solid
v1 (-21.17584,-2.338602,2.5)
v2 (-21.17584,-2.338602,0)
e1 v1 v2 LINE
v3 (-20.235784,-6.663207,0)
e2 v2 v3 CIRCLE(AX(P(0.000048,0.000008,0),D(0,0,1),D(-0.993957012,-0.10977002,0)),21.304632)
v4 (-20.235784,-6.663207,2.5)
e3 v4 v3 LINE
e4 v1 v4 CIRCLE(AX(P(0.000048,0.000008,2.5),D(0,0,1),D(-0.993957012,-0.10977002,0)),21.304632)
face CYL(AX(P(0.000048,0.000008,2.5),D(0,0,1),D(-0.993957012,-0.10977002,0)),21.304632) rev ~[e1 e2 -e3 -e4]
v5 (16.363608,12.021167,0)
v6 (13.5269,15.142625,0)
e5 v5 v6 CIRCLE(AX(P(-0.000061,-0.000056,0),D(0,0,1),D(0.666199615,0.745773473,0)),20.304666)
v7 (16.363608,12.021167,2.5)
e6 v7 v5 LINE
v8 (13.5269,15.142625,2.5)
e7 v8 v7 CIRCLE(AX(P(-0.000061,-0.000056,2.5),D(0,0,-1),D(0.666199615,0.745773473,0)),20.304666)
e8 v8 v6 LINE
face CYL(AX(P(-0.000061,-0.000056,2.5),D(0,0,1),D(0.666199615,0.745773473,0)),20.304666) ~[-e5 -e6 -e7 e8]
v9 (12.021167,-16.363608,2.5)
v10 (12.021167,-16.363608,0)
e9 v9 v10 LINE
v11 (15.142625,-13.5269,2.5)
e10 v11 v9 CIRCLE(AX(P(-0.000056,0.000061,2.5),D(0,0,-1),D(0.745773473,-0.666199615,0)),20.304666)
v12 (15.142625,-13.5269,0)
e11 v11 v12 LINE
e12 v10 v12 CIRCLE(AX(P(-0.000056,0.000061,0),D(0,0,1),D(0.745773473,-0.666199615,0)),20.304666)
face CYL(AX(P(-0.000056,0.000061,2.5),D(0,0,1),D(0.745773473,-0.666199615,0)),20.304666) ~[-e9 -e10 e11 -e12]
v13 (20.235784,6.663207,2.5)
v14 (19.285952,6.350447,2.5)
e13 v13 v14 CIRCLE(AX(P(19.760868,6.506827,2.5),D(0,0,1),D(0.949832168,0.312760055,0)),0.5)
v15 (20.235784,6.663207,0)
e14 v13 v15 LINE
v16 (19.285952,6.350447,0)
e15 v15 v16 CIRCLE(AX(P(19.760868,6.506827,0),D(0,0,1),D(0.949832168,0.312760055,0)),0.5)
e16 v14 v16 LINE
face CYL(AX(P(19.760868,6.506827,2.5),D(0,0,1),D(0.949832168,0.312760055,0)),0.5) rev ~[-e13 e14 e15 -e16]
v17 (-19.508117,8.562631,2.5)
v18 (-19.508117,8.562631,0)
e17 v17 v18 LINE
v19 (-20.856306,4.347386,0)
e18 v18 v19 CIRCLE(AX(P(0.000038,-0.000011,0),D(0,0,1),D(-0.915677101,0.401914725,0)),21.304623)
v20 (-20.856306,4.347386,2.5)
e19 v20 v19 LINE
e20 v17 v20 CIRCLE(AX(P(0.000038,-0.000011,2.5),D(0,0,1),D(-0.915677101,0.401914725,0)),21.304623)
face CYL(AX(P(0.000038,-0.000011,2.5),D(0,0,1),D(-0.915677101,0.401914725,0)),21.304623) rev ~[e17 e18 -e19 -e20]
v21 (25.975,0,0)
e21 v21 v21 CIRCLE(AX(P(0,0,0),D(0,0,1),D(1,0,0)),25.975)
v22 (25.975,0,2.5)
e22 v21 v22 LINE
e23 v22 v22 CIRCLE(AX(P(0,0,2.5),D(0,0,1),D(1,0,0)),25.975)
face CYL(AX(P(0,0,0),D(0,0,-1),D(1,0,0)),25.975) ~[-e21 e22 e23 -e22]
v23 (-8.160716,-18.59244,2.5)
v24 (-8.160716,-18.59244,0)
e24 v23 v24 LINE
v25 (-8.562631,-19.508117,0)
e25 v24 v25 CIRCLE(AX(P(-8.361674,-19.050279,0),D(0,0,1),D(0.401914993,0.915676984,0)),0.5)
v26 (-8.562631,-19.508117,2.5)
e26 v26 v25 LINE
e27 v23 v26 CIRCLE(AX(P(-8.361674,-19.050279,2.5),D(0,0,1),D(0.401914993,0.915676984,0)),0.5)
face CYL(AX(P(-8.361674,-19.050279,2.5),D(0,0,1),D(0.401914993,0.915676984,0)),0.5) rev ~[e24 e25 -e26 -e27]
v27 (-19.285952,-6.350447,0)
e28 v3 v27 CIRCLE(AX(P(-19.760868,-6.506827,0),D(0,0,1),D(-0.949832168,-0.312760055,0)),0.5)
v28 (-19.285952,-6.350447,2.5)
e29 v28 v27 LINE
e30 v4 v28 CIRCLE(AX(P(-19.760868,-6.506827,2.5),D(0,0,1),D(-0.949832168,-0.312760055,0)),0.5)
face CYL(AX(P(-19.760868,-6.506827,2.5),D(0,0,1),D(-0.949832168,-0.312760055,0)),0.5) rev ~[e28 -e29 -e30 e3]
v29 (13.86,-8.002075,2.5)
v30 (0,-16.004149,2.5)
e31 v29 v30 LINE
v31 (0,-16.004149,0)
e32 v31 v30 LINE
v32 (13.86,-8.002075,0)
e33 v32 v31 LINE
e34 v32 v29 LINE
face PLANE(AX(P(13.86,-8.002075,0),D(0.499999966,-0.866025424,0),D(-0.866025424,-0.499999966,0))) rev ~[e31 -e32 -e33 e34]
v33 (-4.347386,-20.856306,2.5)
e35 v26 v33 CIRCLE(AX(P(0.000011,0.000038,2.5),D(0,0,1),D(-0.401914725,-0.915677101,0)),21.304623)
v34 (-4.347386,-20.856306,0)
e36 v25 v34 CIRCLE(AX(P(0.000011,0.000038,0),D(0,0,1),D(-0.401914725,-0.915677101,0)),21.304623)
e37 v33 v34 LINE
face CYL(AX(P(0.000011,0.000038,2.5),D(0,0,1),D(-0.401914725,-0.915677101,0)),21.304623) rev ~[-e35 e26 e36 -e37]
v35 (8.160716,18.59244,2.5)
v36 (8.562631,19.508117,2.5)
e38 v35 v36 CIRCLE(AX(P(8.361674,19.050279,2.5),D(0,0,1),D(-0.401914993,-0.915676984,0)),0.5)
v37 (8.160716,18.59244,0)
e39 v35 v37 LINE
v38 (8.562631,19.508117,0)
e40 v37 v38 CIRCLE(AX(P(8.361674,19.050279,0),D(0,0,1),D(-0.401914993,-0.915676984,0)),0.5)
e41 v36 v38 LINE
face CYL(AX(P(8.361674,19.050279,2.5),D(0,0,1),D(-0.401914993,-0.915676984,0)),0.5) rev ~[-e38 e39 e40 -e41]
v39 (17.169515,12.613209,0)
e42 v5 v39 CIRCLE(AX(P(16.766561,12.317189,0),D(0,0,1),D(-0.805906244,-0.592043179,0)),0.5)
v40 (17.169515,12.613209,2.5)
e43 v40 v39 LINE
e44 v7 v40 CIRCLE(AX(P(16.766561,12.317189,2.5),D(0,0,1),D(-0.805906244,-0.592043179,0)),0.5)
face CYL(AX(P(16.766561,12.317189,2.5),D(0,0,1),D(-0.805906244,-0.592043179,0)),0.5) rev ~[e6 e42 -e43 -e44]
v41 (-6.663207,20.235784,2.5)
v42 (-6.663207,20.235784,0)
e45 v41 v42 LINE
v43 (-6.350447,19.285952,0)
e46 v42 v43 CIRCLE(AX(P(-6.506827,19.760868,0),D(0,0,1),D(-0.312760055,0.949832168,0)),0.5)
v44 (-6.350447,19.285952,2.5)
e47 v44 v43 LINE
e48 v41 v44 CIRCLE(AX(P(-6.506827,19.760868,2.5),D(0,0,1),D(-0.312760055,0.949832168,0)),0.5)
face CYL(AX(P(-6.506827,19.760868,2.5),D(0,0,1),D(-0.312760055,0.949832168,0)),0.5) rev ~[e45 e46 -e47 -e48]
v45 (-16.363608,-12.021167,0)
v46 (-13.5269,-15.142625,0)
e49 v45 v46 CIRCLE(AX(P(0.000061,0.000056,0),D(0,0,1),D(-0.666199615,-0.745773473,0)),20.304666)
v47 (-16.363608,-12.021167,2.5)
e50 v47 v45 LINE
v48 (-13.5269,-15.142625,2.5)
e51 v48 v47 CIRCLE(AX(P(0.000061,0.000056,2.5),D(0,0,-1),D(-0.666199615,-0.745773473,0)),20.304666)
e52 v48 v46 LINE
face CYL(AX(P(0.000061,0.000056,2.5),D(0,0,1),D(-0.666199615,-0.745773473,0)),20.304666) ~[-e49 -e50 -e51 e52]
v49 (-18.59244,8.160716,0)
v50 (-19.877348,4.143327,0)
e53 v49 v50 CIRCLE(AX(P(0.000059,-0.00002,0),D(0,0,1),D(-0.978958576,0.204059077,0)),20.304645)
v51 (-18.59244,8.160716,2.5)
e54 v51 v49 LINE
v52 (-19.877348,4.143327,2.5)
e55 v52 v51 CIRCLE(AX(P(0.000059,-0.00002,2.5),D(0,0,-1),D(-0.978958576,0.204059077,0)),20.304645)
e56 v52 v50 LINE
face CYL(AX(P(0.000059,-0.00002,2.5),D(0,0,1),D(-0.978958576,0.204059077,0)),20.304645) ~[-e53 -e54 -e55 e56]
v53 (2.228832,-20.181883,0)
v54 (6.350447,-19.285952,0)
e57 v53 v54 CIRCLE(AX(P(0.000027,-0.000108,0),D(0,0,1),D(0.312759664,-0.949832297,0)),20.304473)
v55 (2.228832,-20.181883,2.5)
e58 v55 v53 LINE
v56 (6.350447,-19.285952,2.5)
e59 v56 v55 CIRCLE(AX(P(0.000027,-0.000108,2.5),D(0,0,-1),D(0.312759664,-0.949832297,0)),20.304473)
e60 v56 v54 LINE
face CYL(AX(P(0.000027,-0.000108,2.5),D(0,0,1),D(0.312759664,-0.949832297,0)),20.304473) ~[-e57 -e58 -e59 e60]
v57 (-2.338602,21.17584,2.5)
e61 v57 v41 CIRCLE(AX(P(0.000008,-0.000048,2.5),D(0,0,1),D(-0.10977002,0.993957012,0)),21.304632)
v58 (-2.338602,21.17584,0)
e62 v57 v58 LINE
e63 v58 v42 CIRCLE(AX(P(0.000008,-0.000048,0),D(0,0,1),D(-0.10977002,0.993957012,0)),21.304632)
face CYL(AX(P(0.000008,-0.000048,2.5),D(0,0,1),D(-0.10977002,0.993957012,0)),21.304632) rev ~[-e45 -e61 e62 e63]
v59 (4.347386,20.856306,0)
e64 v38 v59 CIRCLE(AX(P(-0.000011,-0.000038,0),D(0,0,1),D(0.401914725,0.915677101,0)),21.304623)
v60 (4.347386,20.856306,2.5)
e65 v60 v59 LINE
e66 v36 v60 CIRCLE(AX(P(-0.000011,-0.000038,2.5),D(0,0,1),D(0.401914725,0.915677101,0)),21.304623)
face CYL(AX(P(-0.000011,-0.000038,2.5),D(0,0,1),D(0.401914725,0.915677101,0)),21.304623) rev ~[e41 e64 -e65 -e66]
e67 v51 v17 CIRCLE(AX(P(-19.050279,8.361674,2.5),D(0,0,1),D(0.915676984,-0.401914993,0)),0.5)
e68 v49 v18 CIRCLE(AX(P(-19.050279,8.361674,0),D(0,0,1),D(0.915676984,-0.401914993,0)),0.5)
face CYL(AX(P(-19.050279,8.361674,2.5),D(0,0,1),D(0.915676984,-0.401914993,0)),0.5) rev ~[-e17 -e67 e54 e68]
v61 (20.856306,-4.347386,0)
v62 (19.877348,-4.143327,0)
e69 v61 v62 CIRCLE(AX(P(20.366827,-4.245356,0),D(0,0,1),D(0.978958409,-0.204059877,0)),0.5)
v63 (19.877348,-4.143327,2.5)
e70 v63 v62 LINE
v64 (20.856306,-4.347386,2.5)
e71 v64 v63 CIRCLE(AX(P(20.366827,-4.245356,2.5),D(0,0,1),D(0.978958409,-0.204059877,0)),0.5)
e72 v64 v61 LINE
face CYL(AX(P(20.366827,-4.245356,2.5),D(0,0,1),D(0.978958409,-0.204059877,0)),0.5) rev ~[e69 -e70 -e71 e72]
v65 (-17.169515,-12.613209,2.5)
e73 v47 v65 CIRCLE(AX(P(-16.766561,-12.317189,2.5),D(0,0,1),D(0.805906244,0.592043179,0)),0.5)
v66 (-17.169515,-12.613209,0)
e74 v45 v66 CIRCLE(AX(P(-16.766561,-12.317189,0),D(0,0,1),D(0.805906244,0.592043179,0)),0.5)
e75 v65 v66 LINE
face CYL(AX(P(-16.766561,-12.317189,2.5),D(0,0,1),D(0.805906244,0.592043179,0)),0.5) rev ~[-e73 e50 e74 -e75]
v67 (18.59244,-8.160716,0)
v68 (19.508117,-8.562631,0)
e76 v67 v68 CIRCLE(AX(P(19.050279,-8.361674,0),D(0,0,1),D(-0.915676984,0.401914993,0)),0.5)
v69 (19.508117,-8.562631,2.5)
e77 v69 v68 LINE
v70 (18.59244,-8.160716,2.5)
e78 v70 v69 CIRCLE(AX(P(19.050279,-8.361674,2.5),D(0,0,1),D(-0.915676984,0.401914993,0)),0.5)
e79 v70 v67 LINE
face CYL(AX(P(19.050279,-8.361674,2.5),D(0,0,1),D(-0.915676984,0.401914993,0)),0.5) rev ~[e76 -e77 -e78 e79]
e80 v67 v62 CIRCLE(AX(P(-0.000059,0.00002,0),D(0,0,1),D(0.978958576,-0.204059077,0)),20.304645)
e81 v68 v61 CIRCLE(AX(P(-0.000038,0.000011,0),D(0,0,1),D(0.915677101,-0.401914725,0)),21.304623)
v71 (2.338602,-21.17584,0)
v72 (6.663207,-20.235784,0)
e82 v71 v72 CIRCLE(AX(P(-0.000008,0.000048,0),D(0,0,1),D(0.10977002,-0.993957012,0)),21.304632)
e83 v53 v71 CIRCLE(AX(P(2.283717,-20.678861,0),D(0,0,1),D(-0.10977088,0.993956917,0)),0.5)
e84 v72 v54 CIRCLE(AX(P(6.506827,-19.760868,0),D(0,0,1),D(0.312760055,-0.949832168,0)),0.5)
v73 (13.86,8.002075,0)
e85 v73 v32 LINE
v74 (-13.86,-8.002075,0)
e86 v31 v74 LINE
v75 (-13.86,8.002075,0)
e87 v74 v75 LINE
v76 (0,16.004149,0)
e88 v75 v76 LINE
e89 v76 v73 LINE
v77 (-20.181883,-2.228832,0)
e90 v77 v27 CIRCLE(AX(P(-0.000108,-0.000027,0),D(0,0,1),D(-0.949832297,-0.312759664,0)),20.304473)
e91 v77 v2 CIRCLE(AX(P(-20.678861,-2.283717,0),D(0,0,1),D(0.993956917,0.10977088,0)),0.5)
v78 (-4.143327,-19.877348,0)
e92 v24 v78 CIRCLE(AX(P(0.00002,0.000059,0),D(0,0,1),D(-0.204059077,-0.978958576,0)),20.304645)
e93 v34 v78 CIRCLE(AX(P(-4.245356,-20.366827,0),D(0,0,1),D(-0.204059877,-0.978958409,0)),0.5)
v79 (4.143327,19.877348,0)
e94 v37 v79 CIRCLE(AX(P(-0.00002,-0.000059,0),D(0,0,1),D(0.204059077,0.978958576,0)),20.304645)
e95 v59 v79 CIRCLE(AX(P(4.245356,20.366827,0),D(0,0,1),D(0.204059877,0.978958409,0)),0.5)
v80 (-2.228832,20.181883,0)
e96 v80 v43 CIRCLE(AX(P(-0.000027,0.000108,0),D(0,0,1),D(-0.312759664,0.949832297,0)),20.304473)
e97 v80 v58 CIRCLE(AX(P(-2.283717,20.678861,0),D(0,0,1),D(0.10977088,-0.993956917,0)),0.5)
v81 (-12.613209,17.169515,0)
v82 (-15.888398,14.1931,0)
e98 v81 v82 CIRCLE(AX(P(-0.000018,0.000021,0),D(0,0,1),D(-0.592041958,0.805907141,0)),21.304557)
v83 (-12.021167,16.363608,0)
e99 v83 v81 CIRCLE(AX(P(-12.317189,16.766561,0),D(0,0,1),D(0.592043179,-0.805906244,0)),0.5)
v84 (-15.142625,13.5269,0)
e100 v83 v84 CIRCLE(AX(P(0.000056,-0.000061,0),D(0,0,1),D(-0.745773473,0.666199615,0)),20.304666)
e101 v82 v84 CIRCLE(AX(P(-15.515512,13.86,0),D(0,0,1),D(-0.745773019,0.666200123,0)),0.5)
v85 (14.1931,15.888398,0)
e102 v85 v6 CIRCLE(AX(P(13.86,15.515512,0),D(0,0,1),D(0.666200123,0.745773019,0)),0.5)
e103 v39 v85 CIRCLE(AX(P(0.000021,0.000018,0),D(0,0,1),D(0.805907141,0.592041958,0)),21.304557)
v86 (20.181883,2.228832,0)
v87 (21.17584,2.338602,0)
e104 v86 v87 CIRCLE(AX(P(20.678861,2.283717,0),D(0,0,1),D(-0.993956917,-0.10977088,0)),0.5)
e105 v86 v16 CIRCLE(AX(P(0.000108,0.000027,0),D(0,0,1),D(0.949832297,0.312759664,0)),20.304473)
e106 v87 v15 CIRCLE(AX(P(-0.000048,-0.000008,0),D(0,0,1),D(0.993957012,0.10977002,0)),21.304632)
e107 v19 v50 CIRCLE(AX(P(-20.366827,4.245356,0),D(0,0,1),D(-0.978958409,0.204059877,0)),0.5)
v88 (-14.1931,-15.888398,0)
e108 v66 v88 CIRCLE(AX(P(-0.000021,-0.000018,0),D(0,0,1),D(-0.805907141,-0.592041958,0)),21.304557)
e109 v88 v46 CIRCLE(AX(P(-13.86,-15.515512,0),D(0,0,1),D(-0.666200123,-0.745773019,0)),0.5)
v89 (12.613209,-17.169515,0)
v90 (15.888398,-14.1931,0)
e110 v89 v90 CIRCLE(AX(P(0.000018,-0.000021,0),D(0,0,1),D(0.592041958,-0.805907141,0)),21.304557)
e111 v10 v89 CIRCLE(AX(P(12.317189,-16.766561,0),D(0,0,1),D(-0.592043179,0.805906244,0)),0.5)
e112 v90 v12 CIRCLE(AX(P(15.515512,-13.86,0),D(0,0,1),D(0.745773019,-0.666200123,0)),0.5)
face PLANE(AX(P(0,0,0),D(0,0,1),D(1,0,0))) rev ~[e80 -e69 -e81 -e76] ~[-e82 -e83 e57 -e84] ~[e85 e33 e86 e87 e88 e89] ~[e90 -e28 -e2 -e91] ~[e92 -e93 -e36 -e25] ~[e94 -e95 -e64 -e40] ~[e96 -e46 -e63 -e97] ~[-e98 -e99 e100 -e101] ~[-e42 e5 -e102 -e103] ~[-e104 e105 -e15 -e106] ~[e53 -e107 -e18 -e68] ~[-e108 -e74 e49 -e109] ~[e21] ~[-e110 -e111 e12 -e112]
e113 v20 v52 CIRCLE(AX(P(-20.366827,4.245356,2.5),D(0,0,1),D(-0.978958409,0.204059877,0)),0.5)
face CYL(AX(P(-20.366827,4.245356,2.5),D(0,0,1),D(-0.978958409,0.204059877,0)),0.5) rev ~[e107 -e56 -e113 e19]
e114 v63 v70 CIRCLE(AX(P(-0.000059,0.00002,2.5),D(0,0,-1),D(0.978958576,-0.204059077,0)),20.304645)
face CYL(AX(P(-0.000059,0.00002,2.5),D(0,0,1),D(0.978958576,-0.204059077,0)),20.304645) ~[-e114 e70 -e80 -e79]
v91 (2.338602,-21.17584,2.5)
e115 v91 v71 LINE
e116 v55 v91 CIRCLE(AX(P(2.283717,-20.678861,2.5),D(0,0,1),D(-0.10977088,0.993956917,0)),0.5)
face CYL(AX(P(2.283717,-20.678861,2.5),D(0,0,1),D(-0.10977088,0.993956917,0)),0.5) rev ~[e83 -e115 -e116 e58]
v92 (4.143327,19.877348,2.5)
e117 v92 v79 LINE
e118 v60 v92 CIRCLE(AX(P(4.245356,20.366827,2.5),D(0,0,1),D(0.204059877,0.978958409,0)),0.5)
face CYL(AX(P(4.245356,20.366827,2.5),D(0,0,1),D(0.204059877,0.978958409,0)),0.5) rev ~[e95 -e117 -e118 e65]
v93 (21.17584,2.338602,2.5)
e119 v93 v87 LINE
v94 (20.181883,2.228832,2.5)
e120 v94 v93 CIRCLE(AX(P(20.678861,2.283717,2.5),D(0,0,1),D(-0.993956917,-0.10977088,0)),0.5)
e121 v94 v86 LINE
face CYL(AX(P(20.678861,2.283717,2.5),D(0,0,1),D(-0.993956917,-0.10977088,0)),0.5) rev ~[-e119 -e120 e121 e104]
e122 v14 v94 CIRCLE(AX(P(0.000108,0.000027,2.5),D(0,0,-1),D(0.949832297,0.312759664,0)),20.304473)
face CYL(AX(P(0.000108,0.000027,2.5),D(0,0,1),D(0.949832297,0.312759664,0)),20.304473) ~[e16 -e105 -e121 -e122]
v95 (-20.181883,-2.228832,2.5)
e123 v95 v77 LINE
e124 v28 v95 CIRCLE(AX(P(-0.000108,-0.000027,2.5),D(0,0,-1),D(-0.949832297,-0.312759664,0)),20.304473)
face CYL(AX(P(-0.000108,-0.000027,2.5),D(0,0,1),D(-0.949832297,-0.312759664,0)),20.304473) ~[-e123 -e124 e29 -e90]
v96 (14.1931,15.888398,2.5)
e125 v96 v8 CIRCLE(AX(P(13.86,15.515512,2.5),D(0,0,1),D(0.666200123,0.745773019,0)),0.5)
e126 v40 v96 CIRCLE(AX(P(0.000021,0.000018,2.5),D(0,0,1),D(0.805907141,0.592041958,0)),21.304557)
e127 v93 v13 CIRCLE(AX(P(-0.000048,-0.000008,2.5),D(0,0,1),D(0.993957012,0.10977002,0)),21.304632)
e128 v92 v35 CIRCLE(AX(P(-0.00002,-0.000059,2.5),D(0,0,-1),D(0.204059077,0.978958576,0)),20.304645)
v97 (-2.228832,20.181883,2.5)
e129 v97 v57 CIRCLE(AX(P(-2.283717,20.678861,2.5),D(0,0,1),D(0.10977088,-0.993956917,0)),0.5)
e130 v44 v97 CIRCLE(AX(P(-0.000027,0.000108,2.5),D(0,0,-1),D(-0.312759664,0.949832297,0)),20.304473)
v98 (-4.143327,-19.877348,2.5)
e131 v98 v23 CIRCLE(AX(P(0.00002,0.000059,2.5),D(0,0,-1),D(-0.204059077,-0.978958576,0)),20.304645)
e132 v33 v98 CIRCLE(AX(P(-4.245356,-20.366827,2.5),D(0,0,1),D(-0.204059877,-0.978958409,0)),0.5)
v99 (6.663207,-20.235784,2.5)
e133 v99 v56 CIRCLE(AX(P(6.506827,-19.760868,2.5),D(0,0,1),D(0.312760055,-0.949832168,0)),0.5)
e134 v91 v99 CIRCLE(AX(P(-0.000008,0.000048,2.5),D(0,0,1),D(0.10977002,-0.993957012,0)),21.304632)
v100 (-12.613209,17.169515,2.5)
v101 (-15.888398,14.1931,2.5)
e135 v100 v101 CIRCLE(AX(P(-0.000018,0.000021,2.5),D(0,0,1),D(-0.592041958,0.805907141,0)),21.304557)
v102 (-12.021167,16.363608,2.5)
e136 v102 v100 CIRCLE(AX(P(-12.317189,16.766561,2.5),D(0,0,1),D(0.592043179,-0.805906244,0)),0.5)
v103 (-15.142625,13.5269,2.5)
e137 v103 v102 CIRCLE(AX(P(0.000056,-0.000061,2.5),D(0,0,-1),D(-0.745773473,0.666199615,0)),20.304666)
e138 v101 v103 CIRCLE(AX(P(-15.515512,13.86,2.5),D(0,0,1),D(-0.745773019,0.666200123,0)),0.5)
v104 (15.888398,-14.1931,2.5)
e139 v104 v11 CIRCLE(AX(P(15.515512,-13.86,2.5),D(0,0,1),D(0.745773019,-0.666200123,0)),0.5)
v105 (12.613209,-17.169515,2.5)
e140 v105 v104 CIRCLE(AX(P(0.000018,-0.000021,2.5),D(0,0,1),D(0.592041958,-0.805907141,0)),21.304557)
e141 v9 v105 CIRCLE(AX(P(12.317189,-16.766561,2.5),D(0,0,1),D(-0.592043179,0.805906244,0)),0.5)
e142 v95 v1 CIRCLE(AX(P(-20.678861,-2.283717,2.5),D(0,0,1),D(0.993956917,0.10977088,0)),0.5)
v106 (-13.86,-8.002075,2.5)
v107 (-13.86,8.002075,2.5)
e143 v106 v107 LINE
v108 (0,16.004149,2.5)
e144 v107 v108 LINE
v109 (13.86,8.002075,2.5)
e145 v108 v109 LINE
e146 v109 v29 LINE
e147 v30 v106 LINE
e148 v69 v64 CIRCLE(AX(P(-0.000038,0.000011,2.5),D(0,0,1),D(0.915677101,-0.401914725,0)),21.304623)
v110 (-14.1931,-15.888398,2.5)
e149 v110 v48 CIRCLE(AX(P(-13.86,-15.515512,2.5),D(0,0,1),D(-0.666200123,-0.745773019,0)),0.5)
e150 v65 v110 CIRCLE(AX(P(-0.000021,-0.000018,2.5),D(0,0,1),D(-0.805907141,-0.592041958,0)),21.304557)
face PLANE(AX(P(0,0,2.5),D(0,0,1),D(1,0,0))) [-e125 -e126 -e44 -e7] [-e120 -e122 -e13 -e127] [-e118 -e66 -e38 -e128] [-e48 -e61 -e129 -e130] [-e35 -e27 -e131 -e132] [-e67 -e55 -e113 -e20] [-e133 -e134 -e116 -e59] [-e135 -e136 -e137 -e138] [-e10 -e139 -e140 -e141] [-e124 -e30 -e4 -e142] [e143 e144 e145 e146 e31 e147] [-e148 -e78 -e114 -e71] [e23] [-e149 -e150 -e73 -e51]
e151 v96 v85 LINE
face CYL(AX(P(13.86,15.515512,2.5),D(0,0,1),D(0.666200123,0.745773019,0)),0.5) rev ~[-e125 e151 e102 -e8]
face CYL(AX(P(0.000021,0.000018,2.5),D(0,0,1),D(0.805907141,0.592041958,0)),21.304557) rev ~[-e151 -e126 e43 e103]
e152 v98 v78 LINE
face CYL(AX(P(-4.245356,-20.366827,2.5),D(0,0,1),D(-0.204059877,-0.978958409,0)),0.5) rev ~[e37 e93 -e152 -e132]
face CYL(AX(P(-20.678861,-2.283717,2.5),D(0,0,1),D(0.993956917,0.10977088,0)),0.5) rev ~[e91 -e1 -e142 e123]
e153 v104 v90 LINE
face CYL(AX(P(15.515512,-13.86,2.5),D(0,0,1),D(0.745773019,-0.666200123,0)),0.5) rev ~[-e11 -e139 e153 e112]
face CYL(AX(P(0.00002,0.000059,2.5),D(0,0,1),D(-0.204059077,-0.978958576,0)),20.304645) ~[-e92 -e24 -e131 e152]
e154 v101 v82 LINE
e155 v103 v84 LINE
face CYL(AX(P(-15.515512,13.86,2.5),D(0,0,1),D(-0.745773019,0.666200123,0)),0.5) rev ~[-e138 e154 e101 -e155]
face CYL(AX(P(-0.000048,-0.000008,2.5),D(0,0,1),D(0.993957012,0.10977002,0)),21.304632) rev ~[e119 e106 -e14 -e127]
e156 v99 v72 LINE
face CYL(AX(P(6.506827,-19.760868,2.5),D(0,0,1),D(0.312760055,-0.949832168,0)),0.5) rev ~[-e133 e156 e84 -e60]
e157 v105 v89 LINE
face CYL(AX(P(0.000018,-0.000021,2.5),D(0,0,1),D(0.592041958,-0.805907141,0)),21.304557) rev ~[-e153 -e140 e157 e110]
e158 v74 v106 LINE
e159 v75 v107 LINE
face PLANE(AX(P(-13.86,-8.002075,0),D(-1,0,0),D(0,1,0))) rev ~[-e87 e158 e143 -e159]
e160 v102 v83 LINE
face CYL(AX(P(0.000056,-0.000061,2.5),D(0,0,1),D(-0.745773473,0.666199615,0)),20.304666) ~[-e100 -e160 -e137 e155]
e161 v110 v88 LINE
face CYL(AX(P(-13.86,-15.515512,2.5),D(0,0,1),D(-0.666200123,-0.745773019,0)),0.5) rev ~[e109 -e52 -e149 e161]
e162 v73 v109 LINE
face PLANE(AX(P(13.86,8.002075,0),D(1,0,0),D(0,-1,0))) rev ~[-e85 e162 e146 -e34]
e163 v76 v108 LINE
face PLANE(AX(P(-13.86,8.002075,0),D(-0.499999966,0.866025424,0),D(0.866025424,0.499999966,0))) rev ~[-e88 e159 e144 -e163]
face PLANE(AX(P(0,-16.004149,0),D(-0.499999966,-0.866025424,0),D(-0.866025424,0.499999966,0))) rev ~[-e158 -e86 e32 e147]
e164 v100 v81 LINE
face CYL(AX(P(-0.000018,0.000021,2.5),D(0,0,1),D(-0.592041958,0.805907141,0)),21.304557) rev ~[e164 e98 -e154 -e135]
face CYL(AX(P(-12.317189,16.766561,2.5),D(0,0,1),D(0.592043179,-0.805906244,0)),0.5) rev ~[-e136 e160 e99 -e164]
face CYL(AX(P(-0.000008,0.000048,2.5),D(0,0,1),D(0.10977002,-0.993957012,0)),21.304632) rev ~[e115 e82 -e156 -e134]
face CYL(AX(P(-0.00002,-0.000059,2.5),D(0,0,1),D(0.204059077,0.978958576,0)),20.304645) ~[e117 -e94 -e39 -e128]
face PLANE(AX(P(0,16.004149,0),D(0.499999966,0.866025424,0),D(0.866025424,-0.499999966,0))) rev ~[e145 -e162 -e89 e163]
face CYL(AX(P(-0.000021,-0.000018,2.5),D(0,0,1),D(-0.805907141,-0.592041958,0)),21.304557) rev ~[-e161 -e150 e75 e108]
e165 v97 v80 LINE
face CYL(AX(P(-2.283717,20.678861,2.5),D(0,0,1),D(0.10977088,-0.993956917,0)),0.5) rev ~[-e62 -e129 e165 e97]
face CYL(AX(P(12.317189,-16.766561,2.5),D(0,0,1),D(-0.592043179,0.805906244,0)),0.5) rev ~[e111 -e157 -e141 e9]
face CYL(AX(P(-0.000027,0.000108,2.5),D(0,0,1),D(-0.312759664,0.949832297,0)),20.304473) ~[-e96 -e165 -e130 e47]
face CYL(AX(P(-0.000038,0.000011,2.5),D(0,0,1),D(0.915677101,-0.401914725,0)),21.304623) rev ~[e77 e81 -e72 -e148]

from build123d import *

# Parameters (mm, degrees)
F0_R     = 25.975
F1_DEPTH = 2.5
F3_DEPTH = 3


with BuildPart() as f1:
    # F0 (on Top) → F1 (new body)
    with BuildSketch(Plane.XY):
        Circle(F0_R)
        Polygon((-13.86, 8.002075), (0, 16.004149), (13.86, 8.002075), (13.86, -8.002075), (0, -16.004149), (-13.86, -8.002075), align=None, mode=Mode.SUBTRACT)
    extrude(amount=F1_DEPTH)

    # F2 (on face) → F3 (cut)
    with BuildSketch(Plane.XY.offset(2.5)):
        with BuildLine():
            ThreePointArc((16.363608, 12.021167), (17.062582, 11.914235), (17.169515, 12.613209))
            ThreePointArc((17.169515, 12.613209), (15.766582, 14.3283), (14.1931, 15.888398))
            ThreePointArc((14.1931, 15.888398), (13.487113, 15.848611), (13.5269, 15.142625))
            ThreePointArc((13.5269, 15.142625), (15.026526, 13.655754), (16.363608, 12.021167))
        make_face()
        with BuildLine():
            ThreePointArc((8.160716, 18.59244), (8.819512, 18.849321), (8.562631, 19.508117))
            ThreePointArc((8.562631, 19.508117), (6.490111, 20.291962), (4.347386, 20.856306))
            ThreePointArc((4.347386, 20.856306), (3.755877, 20.468856), (4.143327, 19.877348))
            ThreePointArc((4.143327, 19.877348), (6.185476, 19.339493), (8.160716, 18.59244))
        make_face()
        with BuildLine():
            ThreePointArc((-2.228832, 20.181883), (-1.786739, 20.733747), (-2.338602, 21.17584))
            ThreePointArc((-2.338602, 21.17584), (-4.52538, 20.81841), (-6.663207, 20.235784))
            ThreePointArc((-6.663207, 20.235784), (-6.981743, 19.604488), (-6.350447, 19.285952))
            ThreePointArc((-6.350447, 19.285952), (-4.312967, 19.841231), (-2.228832, 20.181883))
        make_face()
        with BuildLine():
            ThreePointArc((-12.021167, 16.363608), (-11.914235, 17.062582), (-12.613209, 17.169515))
            ThreePointArc((-12.613209, 17.169515), (-14.3283, 15.766582), (-15.888398, 14.1931))
            ThreePointArc((-15.888398, 14.1931), (-15.848611, 13.487113), (-15.142625, 13.5269))
            ThreePointArc((-15.142625, 13.5269), (-13.655754, 15.026526), (-12.021167, 16.363608))
        make_face()
        with BuildLine():
            ThreePointArc((-18.59244, 8.160716), (-18.849321, 8.819512), (-19.508117, 8.562631))
            ThreePointArc((-19.508117, 8.562631), (-20.291962, 6.490111), (-20.856306, 4.347386))
            ThreePointArc((-20.856306, 4.347386), (-20.468856, 3.755877), (-19.877348, 4.143327))
            ThreePointArc((-19.877348, 4.143327), (-19.339493, 6.185476), (-18.59244, 8.160716))
        make_face()
        with BuildLine():
            ThreePointArc((-20.181883, -2.228832), (-20.733747, -1.786739), (-21.17584, -2.338602))
            ThreePointArc((-21.17584, -2.338602), (-20.81841, -4.52538), (-20.235784, -6.663207))
            ThreePointArc((-20.235784, -6.663207), (-19.604488, -6.981743), (-19.285952, -6.350447))
            ThreePointArc((-19.285952, -6.350447), (-19.841231, -4.312967), (-20.181883, -2.228832))
        make_face()
        with BuildLine():
            ThreePointArc((-16.363608, -12.021167), (-17.062582, -11.914235), (-17.169515, -12.613209))
            ThreePointArc((-17.169515, -12.613209), (-15.766582, -14.3283), (-14.1931, -15.888398))
            ThreePointArc((-14.1931, -15.888398), (-13.487113, -15.848611), (-13.5269, -15.142625))
            ThreePointArc((-13.5269, -15.142625), (-15.026526, -13.655754), (-16.363608, -12.021167))
        make_face()
        with BuildLine():
            ThreePointArc((-8.160716, -18.59244), (-8.819512, -18.849321), (-8.562631, -19.508117))
            ThreePointArc((-8.562631, -19.508117), (-6.490111, -20.291962), (-4.347386, -20.856306))
            ThreePointArc((-4.347386, -20.856306), (-3.755877, -20.468856), (-4.143327, -19.877348))
            ThreePointArc((-4.143327, -19.877348), (-6.185476, -19.339493), (-8.160716, -18.59244))
        make_face()
        with BuildLine():
            ThreePointArc((2.228832, -20.181883), (1.786739, -20.733747), (2.338602, -21.17584))
            ThreePointArc((2.338602, -21.17584), (4.52538, -20.81841), (6.663207, -20.235784))
            ThreePointArc((6.663207, -20.235784), (6.981743, -19.604488), (6.350447, -19.285952))
            ThreePointArc((6.350447, -19.285952), (4.312967, -19.841231), (2.228832, -20.181883))
        make_face()
        with BuildLine():
            ThreePointArc((12.021167, -16.363608), (11.914235, -17.062582), (12.613209, -17.169515))
            ThreePointArc((12.613209, -17.169515), (14.3283, -15.766582), (15.888398, -14.1931))
            ThreePointArc((15.888398, -14.1931), (15.848611, -13.487113), (15.142625, -13.5269))
            ThreePointArc((15.142625, -13.5269), (13.655754, -15.026526), (12.021167, -16.363608))
        make_face()
        with BuildLine():
            ThreePointArc((18.59244, -8.160716), (18.849321, -8.819512), (19.508117, -8.562631))
            ThreePointArc((19.508117, -8.562631), (20.291962, -6.490111), (20.856306, -4.347386))
            ThreePointArc((20.856306, -4.347386), (20.468856, -3.755877), (19.877348, -4.143327))
            ThreePointArc((19.877348, -4.143327), (19.339493, -6.185476), (18.59244, -8.160716))
        make_face()
        with BuildLine():
            ThreePointArc((20.181883, 2.228832), (20.733747, 1.786739), (21.17584, 2.338602))
            ThreePointArc((21.17584, 2.338602), (20.81841, 4.52538), (20.235784, 6.663207))
            ThreePointArc((20.235784, 6.663207), (19.604488, 6.981743), (19.285952, 6.350447))
            ThreePointArc((19.285952, 6.350447), (19.841231, 4.312967), (20.181883, 2.228832))
        make_face()
    extrude(amount=-F3_DEPTH, mode=Mode.SUBTRACT)


solid = f1.part
